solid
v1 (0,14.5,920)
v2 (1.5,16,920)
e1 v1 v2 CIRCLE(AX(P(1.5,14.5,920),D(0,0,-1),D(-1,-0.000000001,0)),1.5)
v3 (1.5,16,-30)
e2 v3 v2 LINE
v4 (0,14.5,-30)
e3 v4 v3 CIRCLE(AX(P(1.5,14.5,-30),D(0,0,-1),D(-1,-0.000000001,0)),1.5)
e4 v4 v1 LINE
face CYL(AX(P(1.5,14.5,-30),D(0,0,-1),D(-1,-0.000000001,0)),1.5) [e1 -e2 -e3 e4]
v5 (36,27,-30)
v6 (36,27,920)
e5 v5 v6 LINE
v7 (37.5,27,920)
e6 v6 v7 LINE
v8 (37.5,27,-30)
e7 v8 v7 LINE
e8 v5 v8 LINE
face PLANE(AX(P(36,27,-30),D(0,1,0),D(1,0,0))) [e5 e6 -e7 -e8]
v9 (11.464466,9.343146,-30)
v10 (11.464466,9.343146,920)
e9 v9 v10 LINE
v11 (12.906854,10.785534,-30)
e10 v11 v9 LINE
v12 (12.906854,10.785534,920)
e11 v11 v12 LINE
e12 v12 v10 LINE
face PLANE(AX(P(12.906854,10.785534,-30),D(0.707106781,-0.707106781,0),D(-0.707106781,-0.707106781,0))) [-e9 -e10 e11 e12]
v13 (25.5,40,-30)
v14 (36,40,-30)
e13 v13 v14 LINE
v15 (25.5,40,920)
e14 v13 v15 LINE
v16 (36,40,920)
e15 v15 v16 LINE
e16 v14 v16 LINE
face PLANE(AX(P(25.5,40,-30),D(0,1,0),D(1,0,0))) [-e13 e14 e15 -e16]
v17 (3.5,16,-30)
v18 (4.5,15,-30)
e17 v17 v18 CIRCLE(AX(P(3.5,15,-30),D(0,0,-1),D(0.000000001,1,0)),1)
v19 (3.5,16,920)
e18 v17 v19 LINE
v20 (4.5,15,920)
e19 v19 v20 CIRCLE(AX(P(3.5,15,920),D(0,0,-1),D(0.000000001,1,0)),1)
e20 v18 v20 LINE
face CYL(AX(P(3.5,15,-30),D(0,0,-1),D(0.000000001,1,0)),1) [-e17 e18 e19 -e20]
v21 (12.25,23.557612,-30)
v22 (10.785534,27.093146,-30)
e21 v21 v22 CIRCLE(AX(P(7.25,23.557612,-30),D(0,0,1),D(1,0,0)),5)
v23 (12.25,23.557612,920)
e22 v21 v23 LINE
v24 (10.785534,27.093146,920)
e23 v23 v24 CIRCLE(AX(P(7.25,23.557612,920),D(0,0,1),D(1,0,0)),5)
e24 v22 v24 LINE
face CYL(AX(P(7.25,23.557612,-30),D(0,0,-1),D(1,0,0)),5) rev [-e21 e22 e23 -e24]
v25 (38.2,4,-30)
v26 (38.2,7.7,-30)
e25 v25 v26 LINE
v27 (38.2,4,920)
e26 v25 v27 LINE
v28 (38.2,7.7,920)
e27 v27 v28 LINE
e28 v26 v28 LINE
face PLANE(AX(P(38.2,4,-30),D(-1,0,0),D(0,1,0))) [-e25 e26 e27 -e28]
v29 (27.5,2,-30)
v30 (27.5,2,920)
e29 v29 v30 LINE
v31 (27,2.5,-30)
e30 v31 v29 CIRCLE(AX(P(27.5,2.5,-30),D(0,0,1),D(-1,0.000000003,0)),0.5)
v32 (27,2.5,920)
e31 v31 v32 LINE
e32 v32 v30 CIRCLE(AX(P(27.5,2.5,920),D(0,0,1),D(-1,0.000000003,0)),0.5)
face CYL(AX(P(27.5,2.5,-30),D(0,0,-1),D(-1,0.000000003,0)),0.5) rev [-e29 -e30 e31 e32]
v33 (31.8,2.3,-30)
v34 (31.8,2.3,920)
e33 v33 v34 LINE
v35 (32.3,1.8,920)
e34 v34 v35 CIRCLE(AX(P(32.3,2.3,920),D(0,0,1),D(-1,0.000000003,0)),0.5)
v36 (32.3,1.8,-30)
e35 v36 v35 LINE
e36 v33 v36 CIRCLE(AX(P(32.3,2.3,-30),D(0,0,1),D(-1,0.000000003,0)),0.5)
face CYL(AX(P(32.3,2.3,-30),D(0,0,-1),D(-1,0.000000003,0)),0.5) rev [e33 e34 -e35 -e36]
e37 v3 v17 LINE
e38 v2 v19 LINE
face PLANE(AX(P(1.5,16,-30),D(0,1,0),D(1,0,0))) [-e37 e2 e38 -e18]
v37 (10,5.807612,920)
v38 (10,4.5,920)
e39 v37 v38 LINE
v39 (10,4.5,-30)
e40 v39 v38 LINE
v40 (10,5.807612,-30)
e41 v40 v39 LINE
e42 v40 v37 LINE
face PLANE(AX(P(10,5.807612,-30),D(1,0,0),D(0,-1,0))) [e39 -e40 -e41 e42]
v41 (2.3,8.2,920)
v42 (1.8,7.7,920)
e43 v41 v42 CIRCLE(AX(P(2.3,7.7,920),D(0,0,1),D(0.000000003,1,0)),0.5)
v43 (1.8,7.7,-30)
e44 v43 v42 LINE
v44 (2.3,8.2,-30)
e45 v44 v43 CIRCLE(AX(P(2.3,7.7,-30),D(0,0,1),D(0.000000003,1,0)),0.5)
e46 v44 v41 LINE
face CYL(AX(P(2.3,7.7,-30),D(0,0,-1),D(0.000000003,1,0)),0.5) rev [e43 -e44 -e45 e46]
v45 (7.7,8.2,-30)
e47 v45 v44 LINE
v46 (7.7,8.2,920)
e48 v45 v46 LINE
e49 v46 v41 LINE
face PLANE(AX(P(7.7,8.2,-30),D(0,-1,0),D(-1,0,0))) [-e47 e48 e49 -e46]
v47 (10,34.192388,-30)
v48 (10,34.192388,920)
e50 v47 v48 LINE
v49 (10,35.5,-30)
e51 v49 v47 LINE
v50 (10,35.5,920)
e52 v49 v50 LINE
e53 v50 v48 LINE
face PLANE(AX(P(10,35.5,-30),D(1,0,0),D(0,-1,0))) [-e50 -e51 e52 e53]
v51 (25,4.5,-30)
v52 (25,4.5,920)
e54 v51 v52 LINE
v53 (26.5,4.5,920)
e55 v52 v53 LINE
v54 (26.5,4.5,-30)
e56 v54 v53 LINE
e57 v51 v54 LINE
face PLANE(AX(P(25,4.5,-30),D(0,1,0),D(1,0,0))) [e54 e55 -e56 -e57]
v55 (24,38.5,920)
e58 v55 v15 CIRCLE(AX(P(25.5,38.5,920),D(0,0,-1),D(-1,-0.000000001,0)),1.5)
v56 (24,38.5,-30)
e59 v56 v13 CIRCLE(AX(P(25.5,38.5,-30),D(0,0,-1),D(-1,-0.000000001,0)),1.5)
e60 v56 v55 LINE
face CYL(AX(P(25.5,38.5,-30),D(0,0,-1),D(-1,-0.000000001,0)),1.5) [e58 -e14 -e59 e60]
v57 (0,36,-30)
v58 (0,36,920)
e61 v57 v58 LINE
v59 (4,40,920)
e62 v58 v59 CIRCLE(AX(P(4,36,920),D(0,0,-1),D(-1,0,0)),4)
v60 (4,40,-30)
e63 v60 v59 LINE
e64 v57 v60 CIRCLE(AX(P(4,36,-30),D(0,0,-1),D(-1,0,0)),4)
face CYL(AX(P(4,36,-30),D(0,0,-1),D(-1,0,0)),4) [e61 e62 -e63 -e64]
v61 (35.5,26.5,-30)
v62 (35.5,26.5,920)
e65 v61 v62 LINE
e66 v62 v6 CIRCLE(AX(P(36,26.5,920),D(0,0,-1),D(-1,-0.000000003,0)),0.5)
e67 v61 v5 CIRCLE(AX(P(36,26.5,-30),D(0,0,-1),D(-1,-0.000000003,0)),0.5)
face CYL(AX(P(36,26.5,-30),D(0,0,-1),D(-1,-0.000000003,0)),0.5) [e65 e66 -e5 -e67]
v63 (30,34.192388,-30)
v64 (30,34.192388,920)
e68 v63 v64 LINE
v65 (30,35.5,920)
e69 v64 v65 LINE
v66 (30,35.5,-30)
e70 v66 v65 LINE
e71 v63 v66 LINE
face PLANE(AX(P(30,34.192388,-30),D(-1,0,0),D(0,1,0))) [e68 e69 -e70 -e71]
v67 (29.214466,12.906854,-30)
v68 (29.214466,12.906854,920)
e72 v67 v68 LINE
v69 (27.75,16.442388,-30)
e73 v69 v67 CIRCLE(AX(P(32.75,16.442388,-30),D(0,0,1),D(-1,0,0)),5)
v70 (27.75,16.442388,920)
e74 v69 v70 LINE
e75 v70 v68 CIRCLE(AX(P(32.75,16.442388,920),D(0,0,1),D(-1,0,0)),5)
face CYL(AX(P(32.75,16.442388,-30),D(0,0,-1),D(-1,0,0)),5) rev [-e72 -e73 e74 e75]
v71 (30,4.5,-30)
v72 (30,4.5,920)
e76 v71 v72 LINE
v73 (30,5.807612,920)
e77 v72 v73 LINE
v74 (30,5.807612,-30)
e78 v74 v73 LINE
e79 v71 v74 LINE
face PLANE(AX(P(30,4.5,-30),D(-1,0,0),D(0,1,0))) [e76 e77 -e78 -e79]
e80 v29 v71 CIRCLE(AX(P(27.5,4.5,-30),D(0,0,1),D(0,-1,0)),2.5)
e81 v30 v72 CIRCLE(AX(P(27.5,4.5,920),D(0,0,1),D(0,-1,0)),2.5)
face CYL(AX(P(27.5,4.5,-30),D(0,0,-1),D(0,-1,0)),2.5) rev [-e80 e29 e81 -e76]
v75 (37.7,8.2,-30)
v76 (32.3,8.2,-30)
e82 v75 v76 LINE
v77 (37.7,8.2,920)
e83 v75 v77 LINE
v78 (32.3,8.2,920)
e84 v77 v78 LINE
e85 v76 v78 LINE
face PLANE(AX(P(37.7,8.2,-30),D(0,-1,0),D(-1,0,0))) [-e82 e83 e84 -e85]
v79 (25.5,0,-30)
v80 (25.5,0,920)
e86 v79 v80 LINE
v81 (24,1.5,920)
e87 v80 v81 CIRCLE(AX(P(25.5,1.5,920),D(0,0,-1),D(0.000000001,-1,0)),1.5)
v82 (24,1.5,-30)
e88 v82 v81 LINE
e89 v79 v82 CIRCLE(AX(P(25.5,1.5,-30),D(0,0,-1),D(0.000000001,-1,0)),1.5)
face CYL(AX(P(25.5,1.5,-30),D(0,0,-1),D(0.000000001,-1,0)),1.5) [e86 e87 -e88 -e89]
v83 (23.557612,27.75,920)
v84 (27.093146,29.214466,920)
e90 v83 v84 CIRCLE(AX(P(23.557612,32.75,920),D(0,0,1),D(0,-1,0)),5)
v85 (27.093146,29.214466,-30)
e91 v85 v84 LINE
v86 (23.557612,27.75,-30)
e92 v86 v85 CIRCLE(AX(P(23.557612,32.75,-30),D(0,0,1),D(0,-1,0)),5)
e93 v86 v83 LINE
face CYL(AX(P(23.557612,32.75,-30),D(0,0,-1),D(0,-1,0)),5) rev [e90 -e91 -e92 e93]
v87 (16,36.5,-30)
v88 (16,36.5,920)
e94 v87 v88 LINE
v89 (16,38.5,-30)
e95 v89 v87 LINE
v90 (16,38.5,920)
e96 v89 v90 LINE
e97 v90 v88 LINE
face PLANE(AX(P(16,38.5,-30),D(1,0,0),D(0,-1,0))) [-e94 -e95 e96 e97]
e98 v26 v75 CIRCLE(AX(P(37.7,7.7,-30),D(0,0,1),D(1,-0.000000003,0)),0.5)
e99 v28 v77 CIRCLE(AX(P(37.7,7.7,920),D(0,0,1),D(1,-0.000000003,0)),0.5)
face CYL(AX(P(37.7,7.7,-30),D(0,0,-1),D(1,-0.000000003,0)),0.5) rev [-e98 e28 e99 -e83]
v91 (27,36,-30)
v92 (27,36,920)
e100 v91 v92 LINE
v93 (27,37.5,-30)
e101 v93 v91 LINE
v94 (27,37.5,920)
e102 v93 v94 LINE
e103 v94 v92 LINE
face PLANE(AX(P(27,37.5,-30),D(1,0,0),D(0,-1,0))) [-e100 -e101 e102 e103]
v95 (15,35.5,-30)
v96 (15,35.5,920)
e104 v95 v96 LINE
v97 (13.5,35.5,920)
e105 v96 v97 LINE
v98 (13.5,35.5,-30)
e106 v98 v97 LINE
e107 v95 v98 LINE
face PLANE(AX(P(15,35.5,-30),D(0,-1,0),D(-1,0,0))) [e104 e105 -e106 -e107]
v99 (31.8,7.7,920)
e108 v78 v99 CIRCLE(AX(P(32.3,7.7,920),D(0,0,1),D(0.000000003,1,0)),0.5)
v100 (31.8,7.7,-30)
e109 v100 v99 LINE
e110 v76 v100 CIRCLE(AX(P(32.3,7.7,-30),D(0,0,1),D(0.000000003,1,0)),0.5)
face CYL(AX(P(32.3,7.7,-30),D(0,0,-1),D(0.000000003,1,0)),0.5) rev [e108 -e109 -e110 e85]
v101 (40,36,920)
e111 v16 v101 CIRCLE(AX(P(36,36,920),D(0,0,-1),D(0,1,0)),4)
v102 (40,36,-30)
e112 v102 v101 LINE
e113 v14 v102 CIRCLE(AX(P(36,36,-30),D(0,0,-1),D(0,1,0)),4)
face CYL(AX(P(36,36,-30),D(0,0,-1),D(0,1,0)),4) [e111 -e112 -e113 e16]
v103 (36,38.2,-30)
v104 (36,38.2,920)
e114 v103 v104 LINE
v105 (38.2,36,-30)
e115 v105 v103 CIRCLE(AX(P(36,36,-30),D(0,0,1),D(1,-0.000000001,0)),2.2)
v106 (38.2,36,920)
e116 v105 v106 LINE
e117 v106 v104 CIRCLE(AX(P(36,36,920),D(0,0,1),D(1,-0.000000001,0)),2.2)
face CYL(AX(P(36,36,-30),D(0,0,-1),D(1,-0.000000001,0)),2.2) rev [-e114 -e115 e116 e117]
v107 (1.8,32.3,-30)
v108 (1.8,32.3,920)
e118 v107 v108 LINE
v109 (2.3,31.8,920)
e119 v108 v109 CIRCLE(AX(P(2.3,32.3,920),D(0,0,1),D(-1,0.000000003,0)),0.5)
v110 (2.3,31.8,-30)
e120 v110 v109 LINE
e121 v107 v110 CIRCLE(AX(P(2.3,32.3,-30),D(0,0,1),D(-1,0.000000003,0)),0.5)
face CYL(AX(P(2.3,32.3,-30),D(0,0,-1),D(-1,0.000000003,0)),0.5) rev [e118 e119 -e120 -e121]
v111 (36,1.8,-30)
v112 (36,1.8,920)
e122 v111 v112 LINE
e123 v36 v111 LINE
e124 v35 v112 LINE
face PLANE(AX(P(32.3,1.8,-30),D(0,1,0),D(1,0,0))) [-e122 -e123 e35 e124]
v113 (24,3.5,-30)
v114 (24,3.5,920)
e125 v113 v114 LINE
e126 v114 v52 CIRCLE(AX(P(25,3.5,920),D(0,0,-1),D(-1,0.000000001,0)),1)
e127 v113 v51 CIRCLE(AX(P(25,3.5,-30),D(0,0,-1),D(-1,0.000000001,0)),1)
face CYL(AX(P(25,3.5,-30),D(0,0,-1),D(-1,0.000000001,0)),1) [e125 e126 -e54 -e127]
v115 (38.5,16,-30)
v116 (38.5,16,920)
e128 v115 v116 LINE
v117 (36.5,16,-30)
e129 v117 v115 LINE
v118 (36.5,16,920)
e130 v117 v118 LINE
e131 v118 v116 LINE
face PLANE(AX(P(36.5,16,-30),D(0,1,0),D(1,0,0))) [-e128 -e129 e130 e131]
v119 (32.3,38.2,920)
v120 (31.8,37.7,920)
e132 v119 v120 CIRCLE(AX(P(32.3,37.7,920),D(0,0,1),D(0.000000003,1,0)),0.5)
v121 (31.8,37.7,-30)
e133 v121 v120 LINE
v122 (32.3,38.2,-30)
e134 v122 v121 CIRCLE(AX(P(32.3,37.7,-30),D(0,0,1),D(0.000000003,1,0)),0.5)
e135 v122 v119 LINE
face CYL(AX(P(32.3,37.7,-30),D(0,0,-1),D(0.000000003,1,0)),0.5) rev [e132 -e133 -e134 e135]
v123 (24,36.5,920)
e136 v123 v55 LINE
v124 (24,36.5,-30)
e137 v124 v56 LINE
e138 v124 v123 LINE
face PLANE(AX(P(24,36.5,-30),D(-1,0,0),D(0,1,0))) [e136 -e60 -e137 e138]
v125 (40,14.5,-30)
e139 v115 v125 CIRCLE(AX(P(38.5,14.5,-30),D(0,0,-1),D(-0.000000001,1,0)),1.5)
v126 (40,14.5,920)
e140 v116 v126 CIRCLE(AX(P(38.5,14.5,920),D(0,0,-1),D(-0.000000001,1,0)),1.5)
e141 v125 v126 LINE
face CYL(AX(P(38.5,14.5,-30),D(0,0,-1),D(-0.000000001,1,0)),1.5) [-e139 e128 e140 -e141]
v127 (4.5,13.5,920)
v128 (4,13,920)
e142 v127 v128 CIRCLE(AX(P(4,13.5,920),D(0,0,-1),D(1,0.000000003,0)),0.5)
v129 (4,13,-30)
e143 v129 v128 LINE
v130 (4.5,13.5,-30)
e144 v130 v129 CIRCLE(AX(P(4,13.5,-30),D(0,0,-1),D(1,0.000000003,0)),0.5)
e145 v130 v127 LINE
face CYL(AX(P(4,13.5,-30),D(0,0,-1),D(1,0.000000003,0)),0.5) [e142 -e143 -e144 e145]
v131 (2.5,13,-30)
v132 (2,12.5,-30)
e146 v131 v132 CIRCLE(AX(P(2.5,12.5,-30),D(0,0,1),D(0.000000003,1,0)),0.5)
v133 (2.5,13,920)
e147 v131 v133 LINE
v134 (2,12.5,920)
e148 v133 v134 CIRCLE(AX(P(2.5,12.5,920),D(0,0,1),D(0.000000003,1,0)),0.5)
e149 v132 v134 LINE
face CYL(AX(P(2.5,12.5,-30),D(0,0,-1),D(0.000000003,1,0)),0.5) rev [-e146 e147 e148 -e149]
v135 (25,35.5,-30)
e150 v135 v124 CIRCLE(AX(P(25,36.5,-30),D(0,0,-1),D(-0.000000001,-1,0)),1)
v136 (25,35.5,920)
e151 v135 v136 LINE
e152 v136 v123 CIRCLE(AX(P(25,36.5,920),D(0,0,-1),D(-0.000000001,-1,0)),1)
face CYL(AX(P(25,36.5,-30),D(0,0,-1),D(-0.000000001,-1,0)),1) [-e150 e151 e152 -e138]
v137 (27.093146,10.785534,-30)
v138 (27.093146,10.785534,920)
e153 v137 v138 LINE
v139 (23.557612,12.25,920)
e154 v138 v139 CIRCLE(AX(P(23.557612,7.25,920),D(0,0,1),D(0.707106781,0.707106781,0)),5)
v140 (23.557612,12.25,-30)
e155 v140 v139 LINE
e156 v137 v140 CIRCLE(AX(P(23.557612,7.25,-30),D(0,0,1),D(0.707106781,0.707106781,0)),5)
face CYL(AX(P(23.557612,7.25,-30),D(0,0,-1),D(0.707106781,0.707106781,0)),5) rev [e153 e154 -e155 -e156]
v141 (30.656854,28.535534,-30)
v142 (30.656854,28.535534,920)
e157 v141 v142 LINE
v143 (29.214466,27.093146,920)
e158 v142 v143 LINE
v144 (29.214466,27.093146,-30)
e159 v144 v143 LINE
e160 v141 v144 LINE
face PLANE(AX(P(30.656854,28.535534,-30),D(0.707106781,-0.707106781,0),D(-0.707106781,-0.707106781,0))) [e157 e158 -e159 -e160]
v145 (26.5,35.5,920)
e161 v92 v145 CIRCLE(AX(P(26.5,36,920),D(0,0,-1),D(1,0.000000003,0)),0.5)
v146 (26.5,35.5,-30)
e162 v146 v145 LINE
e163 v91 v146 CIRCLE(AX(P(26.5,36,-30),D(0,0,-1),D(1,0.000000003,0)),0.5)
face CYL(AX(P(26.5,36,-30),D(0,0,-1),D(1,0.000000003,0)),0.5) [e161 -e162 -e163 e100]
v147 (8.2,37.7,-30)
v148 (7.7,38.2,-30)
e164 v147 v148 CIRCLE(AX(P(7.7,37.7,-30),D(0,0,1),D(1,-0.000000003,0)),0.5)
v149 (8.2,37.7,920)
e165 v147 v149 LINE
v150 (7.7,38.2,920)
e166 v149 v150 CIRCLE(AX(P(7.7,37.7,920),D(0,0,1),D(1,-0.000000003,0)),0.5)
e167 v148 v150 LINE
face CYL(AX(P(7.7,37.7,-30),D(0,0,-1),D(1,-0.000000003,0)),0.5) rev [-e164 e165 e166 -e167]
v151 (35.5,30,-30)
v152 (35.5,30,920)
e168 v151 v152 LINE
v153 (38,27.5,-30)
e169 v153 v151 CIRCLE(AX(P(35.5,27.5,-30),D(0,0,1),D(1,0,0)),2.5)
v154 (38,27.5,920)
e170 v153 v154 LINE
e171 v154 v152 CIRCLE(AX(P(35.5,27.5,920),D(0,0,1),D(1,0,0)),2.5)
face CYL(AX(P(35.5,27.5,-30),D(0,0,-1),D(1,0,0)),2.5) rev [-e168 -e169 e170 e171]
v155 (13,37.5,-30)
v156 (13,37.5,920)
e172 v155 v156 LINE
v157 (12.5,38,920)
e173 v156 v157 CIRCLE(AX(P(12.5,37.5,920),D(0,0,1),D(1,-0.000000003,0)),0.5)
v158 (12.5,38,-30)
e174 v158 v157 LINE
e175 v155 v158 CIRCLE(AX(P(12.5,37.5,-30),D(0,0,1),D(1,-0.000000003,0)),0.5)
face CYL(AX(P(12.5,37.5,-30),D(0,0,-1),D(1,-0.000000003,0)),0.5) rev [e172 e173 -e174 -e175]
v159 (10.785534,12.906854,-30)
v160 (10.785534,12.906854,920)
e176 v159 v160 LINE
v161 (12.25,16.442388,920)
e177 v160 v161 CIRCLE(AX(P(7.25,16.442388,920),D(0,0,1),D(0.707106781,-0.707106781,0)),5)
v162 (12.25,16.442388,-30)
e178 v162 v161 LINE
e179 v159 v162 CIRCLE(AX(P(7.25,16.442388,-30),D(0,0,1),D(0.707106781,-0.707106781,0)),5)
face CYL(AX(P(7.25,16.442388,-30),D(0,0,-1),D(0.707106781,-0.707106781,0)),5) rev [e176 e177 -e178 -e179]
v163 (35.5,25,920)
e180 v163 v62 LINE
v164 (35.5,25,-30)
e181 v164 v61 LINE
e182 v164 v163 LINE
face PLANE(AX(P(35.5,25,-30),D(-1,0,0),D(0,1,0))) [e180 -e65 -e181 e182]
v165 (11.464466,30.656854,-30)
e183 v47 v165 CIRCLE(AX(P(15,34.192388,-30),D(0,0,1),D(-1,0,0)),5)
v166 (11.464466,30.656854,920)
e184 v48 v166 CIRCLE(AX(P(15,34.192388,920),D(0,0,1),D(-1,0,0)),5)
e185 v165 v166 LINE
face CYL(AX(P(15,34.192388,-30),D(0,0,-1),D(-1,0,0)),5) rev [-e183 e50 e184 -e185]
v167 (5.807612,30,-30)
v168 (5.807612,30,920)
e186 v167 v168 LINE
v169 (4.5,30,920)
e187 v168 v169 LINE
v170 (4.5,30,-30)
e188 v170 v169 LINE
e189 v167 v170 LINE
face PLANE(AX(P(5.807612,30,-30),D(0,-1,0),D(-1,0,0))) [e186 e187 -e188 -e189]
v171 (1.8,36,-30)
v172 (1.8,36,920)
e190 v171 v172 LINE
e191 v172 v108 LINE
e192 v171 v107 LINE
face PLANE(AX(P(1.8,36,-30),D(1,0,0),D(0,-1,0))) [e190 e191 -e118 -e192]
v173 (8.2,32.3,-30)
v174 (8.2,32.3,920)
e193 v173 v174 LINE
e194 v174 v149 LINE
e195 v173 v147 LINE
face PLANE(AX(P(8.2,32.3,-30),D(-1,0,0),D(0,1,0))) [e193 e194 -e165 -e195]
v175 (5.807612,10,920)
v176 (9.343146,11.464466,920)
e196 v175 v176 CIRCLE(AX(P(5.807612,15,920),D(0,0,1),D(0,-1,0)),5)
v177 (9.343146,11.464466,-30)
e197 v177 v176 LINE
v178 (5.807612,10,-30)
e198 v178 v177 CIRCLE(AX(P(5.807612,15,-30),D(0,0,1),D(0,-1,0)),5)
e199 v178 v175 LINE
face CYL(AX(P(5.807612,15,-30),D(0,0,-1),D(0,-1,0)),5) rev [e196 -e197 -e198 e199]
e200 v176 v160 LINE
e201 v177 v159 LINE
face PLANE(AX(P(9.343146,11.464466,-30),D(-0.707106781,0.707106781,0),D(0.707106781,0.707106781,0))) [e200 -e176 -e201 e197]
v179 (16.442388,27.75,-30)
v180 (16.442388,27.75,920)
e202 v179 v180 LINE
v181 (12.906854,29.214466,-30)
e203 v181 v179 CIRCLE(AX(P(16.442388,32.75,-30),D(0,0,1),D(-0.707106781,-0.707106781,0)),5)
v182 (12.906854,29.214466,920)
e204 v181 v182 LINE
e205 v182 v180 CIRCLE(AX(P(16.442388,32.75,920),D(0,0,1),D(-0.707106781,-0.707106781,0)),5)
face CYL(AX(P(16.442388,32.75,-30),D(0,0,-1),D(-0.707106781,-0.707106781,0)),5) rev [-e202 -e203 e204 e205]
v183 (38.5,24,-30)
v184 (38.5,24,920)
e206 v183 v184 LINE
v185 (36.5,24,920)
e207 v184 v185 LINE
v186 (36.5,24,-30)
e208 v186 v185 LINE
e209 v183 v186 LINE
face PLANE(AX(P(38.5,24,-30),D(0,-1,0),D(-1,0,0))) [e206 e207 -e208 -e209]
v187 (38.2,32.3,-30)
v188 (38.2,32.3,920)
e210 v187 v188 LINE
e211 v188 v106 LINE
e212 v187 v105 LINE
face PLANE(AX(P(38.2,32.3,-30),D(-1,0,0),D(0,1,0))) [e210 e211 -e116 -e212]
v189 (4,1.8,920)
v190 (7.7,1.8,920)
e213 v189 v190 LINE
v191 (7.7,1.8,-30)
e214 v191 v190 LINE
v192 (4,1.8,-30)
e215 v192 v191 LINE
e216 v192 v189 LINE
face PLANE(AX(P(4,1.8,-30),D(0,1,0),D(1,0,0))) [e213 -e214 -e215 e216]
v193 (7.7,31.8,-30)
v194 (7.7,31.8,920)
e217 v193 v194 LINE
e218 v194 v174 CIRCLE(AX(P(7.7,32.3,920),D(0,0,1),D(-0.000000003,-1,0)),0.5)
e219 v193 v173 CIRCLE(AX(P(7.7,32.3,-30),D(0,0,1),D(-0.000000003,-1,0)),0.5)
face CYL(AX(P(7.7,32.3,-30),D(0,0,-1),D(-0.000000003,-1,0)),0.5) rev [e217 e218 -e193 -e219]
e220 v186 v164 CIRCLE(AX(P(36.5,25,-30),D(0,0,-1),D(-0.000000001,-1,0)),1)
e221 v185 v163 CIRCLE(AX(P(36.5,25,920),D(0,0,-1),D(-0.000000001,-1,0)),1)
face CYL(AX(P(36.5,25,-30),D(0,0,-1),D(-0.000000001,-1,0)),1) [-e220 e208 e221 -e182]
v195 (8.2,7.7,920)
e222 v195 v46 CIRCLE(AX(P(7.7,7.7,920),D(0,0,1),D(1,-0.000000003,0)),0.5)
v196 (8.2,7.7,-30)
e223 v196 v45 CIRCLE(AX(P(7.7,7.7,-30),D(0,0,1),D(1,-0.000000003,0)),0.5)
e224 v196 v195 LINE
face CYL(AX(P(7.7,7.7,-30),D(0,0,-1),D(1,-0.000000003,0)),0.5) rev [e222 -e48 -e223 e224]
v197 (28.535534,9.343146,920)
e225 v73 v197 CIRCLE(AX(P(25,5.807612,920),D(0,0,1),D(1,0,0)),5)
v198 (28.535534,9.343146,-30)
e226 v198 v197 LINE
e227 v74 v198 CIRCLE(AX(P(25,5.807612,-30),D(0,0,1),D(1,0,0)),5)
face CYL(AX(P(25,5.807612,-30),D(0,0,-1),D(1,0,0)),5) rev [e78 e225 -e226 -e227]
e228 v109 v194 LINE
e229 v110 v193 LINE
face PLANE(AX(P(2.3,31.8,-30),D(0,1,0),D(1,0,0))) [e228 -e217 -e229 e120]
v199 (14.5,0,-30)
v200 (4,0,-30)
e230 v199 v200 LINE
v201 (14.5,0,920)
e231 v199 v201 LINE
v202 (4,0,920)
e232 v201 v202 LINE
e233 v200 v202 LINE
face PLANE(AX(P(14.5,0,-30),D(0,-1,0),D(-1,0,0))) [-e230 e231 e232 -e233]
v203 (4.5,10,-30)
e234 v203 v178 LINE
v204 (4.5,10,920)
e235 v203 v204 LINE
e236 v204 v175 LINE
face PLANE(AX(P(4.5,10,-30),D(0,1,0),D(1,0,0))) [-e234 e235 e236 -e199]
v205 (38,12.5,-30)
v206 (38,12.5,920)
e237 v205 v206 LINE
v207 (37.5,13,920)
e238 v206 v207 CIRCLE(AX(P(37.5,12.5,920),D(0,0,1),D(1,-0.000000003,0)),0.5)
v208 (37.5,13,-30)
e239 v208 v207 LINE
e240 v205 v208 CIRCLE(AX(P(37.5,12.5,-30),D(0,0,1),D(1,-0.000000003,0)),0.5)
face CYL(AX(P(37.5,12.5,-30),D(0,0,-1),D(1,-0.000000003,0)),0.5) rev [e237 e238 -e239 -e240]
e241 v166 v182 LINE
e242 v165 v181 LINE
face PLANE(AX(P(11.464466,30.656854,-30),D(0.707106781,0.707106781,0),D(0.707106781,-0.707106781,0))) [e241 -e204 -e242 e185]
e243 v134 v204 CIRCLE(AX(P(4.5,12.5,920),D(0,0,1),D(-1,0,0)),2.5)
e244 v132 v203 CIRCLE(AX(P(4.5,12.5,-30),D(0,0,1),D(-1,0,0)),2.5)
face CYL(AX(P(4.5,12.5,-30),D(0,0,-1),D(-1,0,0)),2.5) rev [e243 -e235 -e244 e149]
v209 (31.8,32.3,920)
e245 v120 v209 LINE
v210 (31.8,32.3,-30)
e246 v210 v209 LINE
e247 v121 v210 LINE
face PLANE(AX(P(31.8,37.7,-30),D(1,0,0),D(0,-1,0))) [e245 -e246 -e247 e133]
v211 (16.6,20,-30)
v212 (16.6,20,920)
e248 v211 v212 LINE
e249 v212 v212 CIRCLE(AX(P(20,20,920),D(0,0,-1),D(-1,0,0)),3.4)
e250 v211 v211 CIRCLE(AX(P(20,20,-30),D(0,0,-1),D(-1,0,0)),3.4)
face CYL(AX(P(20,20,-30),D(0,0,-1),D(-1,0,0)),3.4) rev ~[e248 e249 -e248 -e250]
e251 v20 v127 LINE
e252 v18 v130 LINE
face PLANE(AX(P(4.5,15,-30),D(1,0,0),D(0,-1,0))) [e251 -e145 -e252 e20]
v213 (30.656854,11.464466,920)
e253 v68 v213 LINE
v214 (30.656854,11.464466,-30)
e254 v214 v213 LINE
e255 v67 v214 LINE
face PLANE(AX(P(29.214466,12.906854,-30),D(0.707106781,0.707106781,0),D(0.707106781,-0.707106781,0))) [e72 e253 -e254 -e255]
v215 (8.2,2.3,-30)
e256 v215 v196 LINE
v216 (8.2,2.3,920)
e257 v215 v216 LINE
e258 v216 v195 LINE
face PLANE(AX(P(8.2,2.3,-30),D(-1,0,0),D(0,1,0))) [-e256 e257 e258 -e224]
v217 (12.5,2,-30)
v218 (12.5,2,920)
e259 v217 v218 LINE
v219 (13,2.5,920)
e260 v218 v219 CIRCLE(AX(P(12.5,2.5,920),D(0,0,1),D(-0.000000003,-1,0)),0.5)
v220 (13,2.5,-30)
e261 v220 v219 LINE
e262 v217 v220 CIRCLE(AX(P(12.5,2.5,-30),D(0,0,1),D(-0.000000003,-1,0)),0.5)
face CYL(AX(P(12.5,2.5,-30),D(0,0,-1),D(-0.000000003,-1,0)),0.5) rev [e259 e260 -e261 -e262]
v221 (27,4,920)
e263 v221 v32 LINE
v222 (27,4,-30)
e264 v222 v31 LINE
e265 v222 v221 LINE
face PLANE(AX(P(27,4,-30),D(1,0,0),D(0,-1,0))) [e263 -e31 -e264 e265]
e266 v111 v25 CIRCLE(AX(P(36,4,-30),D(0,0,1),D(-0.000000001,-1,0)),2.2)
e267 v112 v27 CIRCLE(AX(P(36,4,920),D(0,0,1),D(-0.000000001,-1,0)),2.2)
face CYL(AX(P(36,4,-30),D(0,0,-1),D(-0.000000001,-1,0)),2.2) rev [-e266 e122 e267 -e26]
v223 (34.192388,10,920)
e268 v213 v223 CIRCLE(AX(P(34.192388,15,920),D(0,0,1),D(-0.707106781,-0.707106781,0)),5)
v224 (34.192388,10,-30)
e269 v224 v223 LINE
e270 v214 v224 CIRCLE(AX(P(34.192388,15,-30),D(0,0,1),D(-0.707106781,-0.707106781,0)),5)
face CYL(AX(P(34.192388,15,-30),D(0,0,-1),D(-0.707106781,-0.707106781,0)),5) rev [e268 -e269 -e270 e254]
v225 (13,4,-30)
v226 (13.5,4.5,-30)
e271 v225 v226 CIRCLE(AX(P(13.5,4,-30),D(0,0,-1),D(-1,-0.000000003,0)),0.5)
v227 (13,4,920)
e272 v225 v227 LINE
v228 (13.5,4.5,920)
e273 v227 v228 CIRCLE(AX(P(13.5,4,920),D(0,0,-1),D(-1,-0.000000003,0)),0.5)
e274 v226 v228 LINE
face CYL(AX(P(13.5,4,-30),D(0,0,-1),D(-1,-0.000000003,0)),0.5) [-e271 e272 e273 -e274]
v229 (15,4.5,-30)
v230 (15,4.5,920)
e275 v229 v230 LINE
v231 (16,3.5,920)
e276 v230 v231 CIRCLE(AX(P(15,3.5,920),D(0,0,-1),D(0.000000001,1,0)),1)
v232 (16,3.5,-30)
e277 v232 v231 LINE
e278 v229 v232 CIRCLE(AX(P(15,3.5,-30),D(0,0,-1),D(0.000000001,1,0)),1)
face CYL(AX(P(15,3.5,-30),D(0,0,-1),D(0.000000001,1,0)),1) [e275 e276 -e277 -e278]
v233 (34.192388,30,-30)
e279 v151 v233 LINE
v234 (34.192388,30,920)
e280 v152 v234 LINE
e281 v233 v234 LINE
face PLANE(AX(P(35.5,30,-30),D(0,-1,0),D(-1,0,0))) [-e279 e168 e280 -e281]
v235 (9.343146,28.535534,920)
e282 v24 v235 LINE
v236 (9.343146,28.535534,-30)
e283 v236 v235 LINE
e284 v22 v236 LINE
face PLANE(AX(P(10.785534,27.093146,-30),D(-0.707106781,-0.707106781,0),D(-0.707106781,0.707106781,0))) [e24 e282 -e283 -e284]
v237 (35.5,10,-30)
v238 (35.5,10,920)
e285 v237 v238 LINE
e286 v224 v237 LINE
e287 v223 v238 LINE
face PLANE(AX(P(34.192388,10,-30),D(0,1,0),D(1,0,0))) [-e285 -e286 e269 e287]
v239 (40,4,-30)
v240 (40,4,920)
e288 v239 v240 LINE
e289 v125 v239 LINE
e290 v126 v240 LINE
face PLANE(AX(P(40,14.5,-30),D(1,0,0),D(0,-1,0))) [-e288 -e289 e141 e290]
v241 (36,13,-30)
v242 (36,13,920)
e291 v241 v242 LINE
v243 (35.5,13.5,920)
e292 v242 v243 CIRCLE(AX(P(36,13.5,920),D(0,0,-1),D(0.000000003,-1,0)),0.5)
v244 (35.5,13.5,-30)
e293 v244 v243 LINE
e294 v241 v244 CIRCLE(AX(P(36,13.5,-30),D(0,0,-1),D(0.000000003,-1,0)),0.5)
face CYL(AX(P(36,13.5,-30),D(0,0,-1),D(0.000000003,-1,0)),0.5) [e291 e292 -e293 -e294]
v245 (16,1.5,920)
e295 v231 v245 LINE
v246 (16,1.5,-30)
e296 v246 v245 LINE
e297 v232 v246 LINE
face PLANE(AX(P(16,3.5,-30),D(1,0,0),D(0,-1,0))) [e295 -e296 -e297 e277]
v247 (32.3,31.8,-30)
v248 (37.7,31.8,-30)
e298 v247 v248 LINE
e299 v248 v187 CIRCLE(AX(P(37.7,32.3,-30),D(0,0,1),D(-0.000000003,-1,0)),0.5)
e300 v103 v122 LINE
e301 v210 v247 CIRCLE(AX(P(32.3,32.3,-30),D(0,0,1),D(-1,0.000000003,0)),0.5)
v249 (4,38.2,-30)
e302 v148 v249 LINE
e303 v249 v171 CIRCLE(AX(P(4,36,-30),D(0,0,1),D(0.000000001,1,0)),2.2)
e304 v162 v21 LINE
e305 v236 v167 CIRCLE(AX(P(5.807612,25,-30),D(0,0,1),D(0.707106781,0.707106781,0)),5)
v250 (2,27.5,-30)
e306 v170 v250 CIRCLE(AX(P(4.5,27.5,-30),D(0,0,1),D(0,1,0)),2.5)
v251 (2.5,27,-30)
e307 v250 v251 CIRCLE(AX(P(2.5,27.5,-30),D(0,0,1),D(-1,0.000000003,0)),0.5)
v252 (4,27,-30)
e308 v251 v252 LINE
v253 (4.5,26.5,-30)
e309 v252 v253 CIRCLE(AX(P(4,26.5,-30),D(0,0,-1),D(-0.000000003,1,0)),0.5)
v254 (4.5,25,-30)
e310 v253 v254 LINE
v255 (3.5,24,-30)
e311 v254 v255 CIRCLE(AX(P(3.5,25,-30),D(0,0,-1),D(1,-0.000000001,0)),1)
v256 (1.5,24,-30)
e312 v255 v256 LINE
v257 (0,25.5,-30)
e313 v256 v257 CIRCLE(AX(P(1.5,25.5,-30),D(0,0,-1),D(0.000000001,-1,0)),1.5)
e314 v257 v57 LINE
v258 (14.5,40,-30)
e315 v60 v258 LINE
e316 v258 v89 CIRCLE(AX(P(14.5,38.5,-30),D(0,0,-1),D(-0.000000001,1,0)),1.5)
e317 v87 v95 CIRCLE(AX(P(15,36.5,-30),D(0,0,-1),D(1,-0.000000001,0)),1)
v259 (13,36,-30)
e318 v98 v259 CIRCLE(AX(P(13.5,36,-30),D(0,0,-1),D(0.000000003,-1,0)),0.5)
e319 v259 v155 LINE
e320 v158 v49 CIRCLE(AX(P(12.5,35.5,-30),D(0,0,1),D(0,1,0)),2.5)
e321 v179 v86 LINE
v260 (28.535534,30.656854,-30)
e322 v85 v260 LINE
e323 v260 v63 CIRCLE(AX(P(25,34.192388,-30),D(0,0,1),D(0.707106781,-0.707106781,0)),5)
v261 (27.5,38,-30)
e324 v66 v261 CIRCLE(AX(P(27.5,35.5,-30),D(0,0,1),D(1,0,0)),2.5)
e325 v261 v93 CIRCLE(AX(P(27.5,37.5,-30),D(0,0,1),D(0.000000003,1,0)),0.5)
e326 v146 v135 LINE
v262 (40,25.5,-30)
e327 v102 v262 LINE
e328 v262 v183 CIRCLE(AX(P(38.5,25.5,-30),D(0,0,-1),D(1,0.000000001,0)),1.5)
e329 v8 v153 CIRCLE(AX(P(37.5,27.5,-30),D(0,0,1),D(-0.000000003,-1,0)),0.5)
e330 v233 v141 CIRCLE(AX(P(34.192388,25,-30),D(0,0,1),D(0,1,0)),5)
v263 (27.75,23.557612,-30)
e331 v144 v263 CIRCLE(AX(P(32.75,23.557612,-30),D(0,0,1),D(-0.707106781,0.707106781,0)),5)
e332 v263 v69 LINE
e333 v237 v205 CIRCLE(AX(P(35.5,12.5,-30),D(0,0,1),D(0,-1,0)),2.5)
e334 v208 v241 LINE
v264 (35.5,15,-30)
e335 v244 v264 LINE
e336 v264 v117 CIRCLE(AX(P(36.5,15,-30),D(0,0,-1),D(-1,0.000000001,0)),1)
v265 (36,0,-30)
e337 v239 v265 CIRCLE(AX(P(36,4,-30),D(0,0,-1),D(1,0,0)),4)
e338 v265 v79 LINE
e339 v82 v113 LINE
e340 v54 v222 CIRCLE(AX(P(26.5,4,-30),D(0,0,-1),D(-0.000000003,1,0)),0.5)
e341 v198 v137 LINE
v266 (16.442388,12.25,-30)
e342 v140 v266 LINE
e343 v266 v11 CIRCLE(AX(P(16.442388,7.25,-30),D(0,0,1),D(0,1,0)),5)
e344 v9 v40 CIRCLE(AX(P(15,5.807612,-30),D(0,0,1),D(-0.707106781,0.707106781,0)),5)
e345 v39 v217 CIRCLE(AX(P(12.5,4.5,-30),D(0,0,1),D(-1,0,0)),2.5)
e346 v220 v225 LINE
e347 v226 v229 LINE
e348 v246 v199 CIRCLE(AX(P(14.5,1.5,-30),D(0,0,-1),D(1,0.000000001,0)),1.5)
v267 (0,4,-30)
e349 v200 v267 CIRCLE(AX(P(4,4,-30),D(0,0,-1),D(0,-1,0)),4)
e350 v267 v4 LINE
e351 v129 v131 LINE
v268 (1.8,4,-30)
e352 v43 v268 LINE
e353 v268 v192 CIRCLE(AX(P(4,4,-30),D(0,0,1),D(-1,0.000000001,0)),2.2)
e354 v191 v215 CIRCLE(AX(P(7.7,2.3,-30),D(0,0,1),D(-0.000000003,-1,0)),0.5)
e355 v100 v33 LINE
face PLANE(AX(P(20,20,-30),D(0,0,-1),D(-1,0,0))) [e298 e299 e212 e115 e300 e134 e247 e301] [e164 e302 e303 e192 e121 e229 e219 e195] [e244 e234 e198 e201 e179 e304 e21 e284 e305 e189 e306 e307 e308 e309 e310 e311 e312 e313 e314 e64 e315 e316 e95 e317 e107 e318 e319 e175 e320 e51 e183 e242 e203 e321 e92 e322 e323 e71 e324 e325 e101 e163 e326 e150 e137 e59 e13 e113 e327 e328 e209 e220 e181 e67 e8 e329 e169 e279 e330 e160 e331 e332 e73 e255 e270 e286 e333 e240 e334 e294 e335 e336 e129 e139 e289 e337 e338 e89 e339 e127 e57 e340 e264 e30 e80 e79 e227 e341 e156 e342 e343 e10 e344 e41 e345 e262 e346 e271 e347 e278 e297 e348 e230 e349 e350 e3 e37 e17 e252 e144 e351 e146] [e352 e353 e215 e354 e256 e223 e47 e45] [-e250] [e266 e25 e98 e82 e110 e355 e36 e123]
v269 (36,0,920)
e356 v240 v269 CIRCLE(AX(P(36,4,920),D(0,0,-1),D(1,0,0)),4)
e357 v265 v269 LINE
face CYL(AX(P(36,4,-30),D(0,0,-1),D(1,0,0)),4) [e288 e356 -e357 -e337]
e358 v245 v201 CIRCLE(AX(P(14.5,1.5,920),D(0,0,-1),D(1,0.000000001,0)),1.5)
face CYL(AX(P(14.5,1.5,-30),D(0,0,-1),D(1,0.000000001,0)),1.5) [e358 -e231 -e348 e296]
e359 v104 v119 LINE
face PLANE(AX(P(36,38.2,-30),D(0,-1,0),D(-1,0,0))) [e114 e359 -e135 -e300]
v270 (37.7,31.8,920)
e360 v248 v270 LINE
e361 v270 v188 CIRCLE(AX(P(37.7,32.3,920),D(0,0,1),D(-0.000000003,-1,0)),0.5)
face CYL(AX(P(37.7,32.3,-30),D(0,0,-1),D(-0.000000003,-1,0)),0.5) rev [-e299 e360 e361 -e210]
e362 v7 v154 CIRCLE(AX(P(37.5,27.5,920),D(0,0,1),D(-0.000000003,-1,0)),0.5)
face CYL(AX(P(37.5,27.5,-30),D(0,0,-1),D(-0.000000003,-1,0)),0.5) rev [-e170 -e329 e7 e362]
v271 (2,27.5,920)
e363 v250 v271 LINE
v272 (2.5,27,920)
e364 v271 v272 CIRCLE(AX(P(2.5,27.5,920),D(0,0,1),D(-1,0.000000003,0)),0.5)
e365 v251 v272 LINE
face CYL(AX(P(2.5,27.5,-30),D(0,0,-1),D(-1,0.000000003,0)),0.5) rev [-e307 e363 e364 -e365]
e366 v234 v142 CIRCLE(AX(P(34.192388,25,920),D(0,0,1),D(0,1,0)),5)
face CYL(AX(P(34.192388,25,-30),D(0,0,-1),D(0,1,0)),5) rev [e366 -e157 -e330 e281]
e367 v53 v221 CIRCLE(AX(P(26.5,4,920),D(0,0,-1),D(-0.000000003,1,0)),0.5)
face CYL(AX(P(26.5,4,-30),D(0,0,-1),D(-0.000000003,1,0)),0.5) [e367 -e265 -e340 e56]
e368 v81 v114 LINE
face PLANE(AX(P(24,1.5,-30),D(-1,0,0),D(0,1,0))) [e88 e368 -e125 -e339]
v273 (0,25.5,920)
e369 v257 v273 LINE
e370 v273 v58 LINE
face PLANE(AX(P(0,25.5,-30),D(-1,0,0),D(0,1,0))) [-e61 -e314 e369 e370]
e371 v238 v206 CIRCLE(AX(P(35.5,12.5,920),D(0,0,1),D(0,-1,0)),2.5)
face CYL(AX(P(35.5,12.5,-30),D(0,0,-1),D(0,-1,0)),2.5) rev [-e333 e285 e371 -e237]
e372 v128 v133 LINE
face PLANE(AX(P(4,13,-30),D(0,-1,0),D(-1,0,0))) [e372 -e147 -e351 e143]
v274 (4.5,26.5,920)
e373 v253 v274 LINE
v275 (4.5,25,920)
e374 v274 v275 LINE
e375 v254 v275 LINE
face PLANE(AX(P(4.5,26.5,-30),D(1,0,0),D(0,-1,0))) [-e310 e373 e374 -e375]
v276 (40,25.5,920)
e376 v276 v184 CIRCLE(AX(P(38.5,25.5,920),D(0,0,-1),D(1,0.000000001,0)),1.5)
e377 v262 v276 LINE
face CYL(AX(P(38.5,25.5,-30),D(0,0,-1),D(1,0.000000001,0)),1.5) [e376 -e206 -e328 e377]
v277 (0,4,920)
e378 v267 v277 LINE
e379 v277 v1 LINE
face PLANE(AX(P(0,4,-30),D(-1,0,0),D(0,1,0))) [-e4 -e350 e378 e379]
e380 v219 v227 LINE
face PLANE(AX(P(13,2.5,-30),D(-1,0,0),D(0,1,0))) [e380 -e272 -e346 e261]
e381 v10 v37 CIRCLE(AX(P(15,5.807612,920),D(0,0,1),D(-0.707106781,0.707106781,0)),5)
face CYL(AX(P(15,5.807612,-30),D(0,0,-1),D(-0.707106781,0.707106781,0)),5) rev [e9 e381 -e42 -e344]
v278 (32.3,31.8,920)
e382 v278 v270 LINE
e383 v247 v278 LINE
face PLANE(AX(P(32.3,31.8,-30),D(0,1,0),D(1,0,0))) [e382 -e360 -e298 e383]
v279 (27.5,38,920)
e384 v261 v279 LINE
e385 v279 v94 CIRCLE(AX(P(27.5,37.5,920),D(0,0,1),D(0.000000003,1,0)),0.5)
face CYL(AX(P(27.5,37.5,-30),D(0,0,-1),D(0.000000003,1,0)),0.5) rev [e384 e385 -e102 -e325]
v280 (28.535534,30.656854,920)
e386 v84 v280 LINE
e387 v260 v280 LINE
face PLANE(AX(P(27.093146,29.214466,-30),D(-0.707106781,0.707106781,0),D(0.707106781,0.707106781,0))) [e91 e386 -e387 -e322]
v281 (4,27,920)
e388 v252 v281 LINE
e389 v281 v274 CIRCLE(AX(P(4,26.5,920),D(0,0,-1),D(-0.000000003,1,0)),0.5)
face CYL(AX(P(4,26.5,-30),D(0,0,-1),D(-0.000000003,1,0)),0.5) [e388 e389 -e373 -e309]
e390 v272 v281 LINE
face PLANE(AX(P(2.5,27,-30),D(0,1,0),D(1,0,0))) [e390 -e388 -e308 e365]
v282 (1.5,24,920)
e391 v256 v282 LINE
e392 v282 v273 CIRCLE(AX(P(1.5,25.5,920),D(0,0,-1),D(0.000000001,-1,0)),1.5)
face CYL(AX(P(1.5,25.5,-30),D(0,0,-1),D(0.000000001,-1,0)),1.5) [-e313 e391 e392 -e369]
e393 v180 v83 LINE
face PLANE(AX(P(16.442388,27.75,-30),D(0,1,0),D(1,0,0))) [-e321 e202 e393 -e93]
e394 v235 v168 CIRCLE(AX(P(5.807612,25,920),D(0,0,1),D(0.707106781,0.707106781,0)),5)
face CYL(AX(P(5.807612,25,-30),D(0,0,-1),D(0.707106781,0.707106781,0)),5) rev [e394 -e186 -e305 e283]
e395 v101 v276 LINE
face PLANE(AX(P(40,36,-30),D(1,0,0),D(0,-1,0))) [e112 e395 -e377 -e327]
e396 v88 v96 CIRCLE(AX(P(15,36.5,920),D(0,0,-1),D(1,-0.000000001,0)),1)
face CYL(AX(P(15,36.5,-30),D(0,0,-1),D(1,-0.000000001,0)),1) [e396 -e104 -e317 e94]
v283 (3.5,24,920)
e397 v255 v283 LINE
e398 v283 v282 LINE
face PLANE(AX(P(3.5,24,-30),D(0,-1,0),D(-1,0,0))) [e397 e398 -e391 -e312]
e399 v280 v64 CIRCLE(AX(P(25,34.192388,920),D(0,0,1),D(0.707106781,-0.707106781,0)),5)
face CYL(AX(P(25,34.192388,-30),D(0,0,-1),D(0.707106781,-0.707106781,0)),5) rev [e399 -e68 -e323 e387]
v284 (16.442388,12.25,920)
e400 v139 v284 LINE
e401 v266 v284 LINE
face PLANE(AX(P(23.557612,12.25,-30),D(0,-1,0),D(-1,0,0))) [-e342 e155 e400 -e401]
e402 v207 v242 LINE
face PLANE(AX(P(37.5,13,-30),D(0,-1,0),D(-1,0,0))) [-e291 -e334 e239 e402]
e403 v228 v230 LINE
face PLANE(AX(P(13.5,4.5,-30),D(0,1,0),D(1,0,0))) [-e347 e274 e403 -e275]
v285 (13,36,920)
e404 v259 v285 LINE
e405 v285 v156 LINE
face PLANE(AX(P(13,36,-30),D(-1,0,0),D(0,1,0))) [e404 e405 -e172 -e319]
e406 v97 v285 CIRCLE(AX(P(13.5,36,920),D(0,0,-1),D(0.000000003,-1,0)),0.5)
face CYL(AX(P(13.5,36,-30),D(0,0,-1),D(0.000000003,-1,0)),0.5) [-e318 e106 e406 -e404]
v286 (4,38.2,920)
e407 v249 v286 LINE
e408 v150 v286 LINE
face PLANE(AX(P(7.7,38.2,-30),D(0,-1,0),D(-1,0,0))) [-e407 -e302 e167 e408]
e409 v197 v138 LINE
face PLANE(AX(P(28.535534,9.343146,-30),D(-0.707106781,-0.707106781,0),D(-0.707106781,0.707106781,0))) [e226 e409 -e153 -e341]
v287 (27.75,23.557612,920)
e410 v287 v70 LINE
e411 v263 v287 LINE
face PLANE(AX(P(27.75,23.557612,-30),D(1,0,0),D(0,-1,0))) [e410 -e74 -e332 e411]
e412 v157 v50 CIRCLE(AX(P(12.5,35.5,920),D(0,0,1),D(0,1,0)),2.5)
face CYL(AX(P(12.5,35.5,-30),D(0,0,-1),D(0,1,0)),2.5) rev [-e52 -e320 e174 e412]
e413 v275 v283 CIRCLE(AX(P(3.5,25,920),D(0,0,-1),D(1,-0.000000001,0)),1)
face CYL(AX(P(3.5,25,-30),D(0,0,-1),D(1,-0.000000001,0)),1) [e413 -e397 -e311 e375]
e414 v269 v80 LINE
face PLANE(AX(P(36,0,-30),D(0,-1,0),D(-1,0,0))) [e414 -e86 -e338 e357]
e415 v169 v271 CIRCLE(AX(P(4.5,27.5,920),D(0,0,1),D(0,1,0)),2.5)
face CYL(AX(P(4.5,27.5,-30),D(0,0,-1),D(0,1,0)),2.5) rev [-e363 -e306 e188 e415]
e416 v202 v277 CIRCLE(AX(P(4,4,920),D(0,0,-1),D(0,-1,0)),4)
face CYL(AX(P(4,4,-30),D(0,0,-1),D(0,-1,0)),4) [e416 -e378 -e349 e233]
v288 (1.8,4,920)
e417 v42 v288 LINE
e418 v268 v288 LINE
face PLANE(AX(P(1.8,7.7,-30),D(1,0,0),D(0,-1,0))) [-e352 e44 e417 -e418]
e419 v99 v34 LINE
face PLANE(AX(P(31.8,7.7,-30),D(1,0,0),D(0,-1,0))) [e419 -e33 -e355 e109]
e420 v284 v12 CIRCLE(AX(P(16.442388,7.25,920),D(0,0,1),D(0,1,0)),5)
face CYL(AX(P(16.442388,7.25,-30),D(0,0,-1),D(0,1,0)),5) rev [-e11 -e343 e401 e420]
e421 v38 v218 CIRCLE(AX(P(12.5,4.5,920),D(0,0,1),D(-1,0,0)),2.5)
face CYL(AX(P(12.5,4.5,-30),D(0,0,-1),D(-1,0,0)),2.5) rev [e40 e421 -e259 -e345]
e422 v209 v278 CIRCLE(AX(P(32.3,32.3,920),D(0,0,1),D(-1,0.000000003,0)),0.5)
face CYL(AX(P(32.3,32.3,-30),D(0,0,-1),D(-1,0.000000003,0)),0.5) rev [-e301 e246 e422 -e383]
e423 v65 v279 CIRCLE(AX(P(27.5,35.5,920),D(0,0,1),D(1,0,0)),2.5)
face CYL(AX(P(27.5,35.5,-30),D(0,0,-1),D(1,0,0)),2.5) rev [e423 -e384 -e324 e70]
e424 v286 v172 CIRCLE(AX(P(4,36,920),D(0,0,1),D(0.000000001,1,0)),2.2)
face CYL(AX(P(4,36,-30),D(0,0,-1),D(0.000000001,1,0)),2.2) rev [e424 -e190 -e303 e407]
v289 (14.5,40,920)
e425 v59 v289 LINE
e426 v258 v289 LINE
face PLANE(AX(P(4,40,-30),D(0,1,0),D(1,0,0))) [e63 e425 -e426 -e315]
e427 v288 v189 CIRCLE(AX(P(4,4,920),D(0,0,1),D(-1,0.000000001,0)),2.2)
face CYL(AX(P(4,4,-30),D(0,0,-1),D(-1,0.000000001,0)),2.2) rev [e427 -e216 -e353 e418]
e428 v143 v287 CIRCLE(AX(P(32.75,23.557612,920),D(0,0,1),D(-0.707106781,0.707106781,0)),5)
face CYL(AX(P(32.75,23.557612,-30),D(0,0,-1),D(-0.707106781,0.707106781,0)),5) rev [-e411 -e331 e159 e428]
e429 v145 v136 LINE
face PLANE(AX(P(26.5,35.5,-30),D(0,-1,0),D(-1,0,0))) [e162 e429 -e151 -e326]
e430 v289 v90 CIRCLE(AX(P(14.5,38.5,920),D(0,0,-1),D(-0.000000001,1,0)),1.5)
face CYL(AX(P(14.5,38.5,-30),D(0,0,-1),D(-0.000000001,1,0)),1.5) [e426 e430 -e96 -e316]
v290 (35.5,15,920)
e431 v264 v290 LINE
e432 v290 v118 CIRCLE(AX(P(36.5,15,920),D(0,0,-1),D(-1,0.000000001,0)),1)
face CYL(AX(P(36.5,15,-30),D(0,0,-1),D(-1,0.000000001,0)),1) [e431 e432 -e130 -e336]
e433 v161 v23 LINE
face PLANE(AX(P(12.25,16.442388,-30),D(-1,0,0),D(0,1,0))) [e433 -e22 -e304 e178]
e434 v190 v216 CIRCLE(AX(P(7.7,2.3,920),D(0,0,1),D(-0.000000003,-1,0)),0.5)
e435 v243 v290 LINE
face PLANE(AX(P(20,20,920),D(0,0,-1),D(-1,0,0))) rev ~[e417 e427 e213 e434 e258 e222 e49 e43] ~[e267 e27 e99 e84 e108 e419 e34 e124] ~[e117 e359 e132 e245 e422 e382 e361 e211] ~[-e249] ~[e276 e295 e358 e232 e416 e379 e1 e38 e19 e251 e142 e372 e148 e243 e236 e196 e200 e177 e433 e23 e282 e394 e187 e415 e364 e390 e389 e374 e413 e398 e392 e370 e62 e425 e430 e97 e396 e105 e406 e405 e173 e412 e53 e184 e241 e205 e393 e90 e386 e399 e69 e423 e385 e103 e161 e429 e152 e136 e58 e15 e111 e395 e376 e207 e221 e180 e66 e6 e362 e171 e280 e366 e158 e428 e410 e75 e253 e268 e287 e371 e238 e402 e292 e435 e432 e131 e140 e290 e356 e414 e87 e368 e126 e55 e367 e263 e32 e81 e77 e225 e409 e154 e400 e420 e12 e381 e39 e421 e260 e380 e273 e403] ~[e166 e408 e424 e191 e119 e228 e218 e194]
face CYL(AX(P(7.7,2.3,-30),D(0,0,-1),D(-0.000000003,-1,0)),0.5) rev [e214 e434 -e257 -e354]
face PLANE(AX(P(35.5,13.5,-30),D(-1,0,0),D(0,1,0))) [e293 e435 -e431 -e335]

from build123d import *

# Parameters (mm, degrees)
ESQUISSE1_R        = 3.4
BOSS_EXTRU_1_DEPTH = 950


with BuildPart() as part:
    # Esquisse1 → Boss.-Extru.1 (new body)
    with BuildSketch(Plane(origin=(0, 0, -30), x_dir=(-1, 0, 0), z_dir=(0, 0, -1))):
        with BuildLine():
            Line((-4.5, 15), (-4.5, 13.5))
            ThreePointArc((-4.5, 13.5), (-4.353553391, 13.146446609), (-4, 13))
            Line((-4, 13), (-2.5, 13))
            ThreePointArc((-2.5, 13), (-2.146446609, 12.853553391), (-2, 12.5))
            ThreePointArc((-2, 12.5), (-2.732233047, 10.732233047), (-4.5, 10))
            Line((-4.5, 10), (-5.807611845, 10))
            ThreePointArc((-5.807611845, 10), (-7.721029006, 10.380602337), (-9.343145751, 11.464466094))
            Line((-9.343145751, 11.464466094), (-10.785533906, 12.906854249))
            ThreePointArc((-10.785533906, 12.906854249), (-11.869397663, 14.528970994), (-12.25, 16.442388155))
            Line((-12.25, 16.442388155), (-12.25, 23.557611845))
            ThreePointArc((-12.25, 23.557611845), (-11.869397663, 25.471029006), (-10.785533906, 27.093145751))
            Line((-10.785533906, 27.093145751), (-9.343145751, 28.535533906))
            ThreePointArc((-9.343145751, 28.535533906), (-7.721029006, 29.619397663), (-5.807611845, 30))
            Line((-5.807611845, 30), (-4.5, 30))
            ThreePointArc((-4.5, 30), (-2.732233047, 29.267766953), (-2, 27.5))
            ThreePointArc((-2, 27.5), (-2.146446609, 27.146446609), (-2.5, 27))
            Line((-2.5, 27), (-4, 27))
            ThreePointArc((-4, 27), (-4.353553391, 26.853553391), (-4.5, 26.5))
            Line((-4.5, 26.5), (-4.5, 25))
            ThreePointArc((-4.5, 25), (-4.207106781, 24.292893219), (-3.5, 24))
            Line((-3.5, 24), (-1.5, 24))
            ThreePointArc((-1.5, 24), (-0.439339828, 24.439339828), (0, 25.5))
            Line((0, 25.5), (0, 36))
            ThreePointArc((0, 36), (-1.171572875, 38.828427125), (-4, 40))
            Line((-4, 40), (-14.5, 40))
            ThreePointArc((-14.5, 40), (-15.560660172, 39.560660172), (-16, 38.5))
            Line((-16, 38.5), (-16, 36.5))
            ThreePointArc((-16, 36.5), (-15.707106781, 35.792893219), (-15, 35.5))
            Line((-15, 35.5), (-13.5, 35.5))
            ThreePointArc((-13.5, 35.5), (-13.146446609, 35.646446609), (-13, 36))
            Line((-13, 36), (-13, 37.5))
            ThreePointArc((-13, 37.5), (-12.853553391, 37.853553391), (-12.5, 38))
            ThreePointArc((-12.5, 38), (-10.732233047, 37.267766953), (-10, 35.5))
            Line((-10, 35.5), (-10, 34.192388155))
            ThreePointArc((-10, 34.192388155), (-10.380602337, 32.278970994), (-11.464466094, 30.656854249))
            Line((-11.464466094, 30.656854249), (-12.906854249, 29.214466094))
            ThreePointArc((-12.906854249, 29.214466094), (-14.528970994, 28.130602337), (-16.442388155, 27.75))
            Line((-16.442388155, 27.75), (-23.557611845, 27.75))
            ThreePointArc((-23.557611845, 27.75), (-25.471029006, 28.130602337), (-27.093145751, 29.214466094))
            Line((-27.093145751, 29.214466094), (-28.535533906, 30.656854249))
            ThreePointArc((-28.535533906, 30.656854249), (-29.619397663, 32.278970994), (-30, 34.192388155))
            Line((-30, 34.192388155), (-30, 35.5))
            ThreePointArc((-30, 35.5), (-29.267766953, 37.267766953), (-27.5, 38))
            ThreePointArc((-27.5, 38), (-27.146446609, 37.853553391), (-27, 37.5))
            Line((-27, 37.5), (-27, 36))
            ThreePointArc((-27, 36), (-26.853553391, 35.646446609), (-26.5, 35.5))
            Line((-26.5, 35.5), (-25, 35.5))
            ThreePointArc((-25, 35.5), (-24.292893219, 35.792893219), (-24, 36.5))
            Line((-24, 36.5), (-24, 38.5))
            ThreePointArc((-24, 38.5), (-24.439339828, 39.560660172), (-25.5, 40))
            Line((-25.5, 40), (-36, 40))
            ThreePointArc((-36, 40), (-38.828427125, 38.828427125), (-40, 36))
            Line((-40, 36), (-40, 25.5))
            ThreePointArc((-40, 25.5), (-39.560660172, 24.439339828), (-38.5, 24))
            Line((-38.5, 24), (-36.5, 24))
            ThreePointArc((-36.5, 24), (-35.792893219, 24.292893219), (-35.5, 25))
            Line((-35.5, 25), (-35.5, 26.5))
            ThreePointArc((-35.5, 26.5), (-35.646446609, 26.853553391), (-36, 27))
            Line((-36, 27), (-37.5, 27))
            ThreePointArc((-37.5, 27), (-37.853553391, 27.146446609), (-38, 27.5))
            ThreePointArc((-38, 27.5), (-37.267766953, 29.267766953), (-35.5, 30))
            Line((-35.5, 30), (-34.192388155, 30))
            ThreePointArc((-34.192388155, 30), (-32.278970994, 29.619397663), (-30.656854249, 28.535533906))
            Line((-30.656854249, 28.535533906), (-29.214466094, 27.093145751))
            ThreePointArc((-29.214466094, 27.093145751), (-28.130602337, 25.471029006), (-27.75, 23.557611845))
            Line((-27.75, 23.557611845), (-27.75, 16.442388155))
            ThreePointArc((-27.75, 16.442388155), (-28.130602337, 14.528970994), (-29.214466094, 12.906854249))
            Line((-29.214466094, 12.906854249), (-30.656854249, 11.464466094))
            ThreePointArc((-30.656854249, 11.464466094), (-32.278970994, 10.380602337), (-34.192388155, 10))
            Line((-34.192388155, 10), (-35.5, 10))
            ThreePointArc((-35.5, 10), (-37.267766953, 10.732233047), (-38, 12.5))
            ThreePointArc((-38, 12.5), (-37.853553391, 12.853553391), (-37.5, 13))
            Line((-37.5, 13), (-36, 13))
            ThreePointArc((-36, 13), (-35.646446609, 13.146446609), (-35.5, 13.5))
            Line((-35.5, 13.5), (-35.5, 15))
            ThreePointArc((-35.5, 15), (-35.792893219, 15.707106781), (-36.5, 16))
            Line((-36.5, 16), (-38.5, 16))
            ThreePointArc((-38.5, 16), (-39.560660172, 15.560660172), (-40, 14.5))
            Line((-40, 14.5), (-40, 4))
            ThreePointArc((-40, 4), (-38.828427125, 1.171572875), (-36, 0))
            Line((-36, 0), (-25.5, 0))
            ThreePointArc((-25.5, 0), (-24.439339828, 0.439339828), (-24, 1.5))
            Line((-24, 1.5), (-24, 3.5))
            ThreePointArc((-24, 3.5), (-24.292893219, 4.207106781), (-25, 4.5))
            Line((-25, 4.5), (-26.5, 4.5))
            ThreePointArc((-26.5, 4.5), (-26.853553391, 4.353553391), (-27, 4))
            Line((-27, 4), (-27, 2.5))
            ThreePointArc((-27, 2.5), (-27.146446609, 2.146446609), (-27.5, 2))
            ThreePointArc((-27.5, 2), (-29.267766953, 2.732233047), (-30, 4.5))
            Line((-30, 4.5), (-30, 5.807611845))
            ThreePointArc((-30, 5.807611845), (-29.619397663, 7.721029006), (-28.535533906, 9.343145751))
            Line((-28.535533906, 9.343145751), (-27.093145751, 10.785533906))
            ThreePointArc((-27.093145751, 10.785533906), (-25.471029006, 11.869397663), (-23.557611845, 12.25))
            Line((-23.557611845, 12.25), (-16.442388155, 12.25))
            ThreePointArc((-16.442388155, 12.25), (-14.528970994, 11.869397663), (-12.906854249, 10.785533906))
            Line((-12.906854249, 10.785533906), (-11.464466094, 9.343145751))
            ThreePointArc((-11.464466094, 9.343145751), (-10.380602337, 7.721029006), (-10, 5.807611845))
            Line((-10, 5.807611845), (-10, 4.5))
            ThreePointArc((-10, 4.5), (-10.732233047, 2.732233047), (-12.5, 2))
            ThreePointArc((-12.5, 2), (-12.853553391, 2.146446609), (-13, 2.5))
            Line((-13, 2.5), (-13, 4))
            ThreePointArc((-13, 4), (-13.146446609, 4.353553391), (-13.5, 4.5))
            Line((-13.5, 4.5), (-15, 4.5))
            ThreePointArc((-15, 4.5), (-15.707106781, 4.207106781), (-16, 3.5))
            Line((-16, 3.5), (-16, 1.5))
            ThreePointArc((-16, 1.5), (-15.560660172, 0.439339828), (-14.5, 0))
            Line((-14.5, 0), (-4, 0))
            ThreePointArc((-4, 0), (-1.171572875, 1.171572875), (0, 4))
            Line((0, 4), (0, 14.5))
            ThreePointArc((0, 14.5), (-0.439339828, 15.560660172), (-1.5, 16))
            Line((-1.5, 16), (-3.5, 16))
            ThreePointArc((-3.5, 16), (-4.207106781, 15.707106781), (-4.5, 15))
        make_face()
        with Locations((-20, 20)):
            Circle(ESQUISSE1_R, mode=Mode.SUBTRACT)
        with BuildLine():
            Line((-4, 1.8), (-7.7, 1.8))
            ThreePointArc((-7.7, 1.8), (-8.053553391, 1.946446609), (-8.2, 2.3))
            Line((-8.2, 2.3), (-8.2, 7.7))
            ThreePointArc((-8.2, 7.7), (-8.053553391, 8.053553391), (-7.7, 8.2))
            Line((-7.7, 8.2), (-2.3, 8.2))
            ThreePointArc((-2.3, 8.2), (-1.946446609, 8.053553391), (-1.8, 7.7))
            Line((-1.8, 7.7), (-1.8, 4))
            ThreePointArc((-1.8, 4), (-2.444365081, 2.444365081), (-4, 1.8))
        make_face(mode=Mode.SUBTRACT)
        with BuildLine():
            Line((-38.2, 4), (-38.2, 7.7))
            ThreePointArc((-38.2, 7.7), (-38.053553391, 8.053553391), (-37.7, 8.2))
            Line((-37.7, 8.2), (-32.3, 8.2))
            ThreePointArc((-32.3, 8.2), (-31.946446609, 8.053553391), (-31.8, 7.7))
            Line((-31.8, 7.7), (-31.8, 2.3))
            ThreePointArc((-31.8, 2.3), (-31.946446609, 1.946446609), (-32.3, 1.8))
            Line((-32.3, 1.8), (-36, 1.8))
            ThreePointArc((-36, 1.8), (-37.555634919, 2.444365081), (-38.2, 4))
        make_face(mode=Mode.SUBTRACT)
        with BuildLine():
            Line((-36, 38.2), (-32.3, 38.2))
            ThreePointArc((-32.3, 38.2), (-31.946446609, 38.053553391), (-31.8, 37.7))
            Line((-31.8, 37.7), (-31.8, 32.3))
            ThreePointArc((-31.8, 32.3), (-31.946446609, 31.946446609), (-32.3, 31.8))
            Line((-32.3, 31.8), (-37.7, 31.8))
            ThreePointArc((-37.7, 31.8), (-38.053553391, 31.946446609), (-38.2, 32.3))
            Line((-38.2, 32.3), (-38.2, 36))
            ThreePointArc((-38.2, 36), (-37.555634919, 37.555634919), (-36, 38.2))
        make_face(mode=Mode.SUBTRACT)
        with BuildLine():
            Line((-1.8, 36), (-1.8, 32.3))
            ThreePointArc((-1.8, 32.3), (-1.946446609, 31.946446609), (-2.3, 31.8))
            Line((-2.3, 31.8), (-7.7, 31.8))
            ThreePointArc((-7.7, 31.8), (-8.053553391, 31.946446609), (-8.2, 32.3))
            Line((-8.2, 32.3), (-8.2, 37.7))
            ThreePointArc((-8.2, 37.7), (-8.053553391, 38.053553391), (-7.7, 38.2))
            Line((-7.7, 38.2), (-4, 38.2))
            ThreePointArc((-4, 38.2), (-2.444365081, 37.555634919), (-1.8, 36))
        make_face(mode=Mode.SUBTRACT)
    extrude(amount=-BOSS_EXTRU_1_DEPTH)


solid = part.part
